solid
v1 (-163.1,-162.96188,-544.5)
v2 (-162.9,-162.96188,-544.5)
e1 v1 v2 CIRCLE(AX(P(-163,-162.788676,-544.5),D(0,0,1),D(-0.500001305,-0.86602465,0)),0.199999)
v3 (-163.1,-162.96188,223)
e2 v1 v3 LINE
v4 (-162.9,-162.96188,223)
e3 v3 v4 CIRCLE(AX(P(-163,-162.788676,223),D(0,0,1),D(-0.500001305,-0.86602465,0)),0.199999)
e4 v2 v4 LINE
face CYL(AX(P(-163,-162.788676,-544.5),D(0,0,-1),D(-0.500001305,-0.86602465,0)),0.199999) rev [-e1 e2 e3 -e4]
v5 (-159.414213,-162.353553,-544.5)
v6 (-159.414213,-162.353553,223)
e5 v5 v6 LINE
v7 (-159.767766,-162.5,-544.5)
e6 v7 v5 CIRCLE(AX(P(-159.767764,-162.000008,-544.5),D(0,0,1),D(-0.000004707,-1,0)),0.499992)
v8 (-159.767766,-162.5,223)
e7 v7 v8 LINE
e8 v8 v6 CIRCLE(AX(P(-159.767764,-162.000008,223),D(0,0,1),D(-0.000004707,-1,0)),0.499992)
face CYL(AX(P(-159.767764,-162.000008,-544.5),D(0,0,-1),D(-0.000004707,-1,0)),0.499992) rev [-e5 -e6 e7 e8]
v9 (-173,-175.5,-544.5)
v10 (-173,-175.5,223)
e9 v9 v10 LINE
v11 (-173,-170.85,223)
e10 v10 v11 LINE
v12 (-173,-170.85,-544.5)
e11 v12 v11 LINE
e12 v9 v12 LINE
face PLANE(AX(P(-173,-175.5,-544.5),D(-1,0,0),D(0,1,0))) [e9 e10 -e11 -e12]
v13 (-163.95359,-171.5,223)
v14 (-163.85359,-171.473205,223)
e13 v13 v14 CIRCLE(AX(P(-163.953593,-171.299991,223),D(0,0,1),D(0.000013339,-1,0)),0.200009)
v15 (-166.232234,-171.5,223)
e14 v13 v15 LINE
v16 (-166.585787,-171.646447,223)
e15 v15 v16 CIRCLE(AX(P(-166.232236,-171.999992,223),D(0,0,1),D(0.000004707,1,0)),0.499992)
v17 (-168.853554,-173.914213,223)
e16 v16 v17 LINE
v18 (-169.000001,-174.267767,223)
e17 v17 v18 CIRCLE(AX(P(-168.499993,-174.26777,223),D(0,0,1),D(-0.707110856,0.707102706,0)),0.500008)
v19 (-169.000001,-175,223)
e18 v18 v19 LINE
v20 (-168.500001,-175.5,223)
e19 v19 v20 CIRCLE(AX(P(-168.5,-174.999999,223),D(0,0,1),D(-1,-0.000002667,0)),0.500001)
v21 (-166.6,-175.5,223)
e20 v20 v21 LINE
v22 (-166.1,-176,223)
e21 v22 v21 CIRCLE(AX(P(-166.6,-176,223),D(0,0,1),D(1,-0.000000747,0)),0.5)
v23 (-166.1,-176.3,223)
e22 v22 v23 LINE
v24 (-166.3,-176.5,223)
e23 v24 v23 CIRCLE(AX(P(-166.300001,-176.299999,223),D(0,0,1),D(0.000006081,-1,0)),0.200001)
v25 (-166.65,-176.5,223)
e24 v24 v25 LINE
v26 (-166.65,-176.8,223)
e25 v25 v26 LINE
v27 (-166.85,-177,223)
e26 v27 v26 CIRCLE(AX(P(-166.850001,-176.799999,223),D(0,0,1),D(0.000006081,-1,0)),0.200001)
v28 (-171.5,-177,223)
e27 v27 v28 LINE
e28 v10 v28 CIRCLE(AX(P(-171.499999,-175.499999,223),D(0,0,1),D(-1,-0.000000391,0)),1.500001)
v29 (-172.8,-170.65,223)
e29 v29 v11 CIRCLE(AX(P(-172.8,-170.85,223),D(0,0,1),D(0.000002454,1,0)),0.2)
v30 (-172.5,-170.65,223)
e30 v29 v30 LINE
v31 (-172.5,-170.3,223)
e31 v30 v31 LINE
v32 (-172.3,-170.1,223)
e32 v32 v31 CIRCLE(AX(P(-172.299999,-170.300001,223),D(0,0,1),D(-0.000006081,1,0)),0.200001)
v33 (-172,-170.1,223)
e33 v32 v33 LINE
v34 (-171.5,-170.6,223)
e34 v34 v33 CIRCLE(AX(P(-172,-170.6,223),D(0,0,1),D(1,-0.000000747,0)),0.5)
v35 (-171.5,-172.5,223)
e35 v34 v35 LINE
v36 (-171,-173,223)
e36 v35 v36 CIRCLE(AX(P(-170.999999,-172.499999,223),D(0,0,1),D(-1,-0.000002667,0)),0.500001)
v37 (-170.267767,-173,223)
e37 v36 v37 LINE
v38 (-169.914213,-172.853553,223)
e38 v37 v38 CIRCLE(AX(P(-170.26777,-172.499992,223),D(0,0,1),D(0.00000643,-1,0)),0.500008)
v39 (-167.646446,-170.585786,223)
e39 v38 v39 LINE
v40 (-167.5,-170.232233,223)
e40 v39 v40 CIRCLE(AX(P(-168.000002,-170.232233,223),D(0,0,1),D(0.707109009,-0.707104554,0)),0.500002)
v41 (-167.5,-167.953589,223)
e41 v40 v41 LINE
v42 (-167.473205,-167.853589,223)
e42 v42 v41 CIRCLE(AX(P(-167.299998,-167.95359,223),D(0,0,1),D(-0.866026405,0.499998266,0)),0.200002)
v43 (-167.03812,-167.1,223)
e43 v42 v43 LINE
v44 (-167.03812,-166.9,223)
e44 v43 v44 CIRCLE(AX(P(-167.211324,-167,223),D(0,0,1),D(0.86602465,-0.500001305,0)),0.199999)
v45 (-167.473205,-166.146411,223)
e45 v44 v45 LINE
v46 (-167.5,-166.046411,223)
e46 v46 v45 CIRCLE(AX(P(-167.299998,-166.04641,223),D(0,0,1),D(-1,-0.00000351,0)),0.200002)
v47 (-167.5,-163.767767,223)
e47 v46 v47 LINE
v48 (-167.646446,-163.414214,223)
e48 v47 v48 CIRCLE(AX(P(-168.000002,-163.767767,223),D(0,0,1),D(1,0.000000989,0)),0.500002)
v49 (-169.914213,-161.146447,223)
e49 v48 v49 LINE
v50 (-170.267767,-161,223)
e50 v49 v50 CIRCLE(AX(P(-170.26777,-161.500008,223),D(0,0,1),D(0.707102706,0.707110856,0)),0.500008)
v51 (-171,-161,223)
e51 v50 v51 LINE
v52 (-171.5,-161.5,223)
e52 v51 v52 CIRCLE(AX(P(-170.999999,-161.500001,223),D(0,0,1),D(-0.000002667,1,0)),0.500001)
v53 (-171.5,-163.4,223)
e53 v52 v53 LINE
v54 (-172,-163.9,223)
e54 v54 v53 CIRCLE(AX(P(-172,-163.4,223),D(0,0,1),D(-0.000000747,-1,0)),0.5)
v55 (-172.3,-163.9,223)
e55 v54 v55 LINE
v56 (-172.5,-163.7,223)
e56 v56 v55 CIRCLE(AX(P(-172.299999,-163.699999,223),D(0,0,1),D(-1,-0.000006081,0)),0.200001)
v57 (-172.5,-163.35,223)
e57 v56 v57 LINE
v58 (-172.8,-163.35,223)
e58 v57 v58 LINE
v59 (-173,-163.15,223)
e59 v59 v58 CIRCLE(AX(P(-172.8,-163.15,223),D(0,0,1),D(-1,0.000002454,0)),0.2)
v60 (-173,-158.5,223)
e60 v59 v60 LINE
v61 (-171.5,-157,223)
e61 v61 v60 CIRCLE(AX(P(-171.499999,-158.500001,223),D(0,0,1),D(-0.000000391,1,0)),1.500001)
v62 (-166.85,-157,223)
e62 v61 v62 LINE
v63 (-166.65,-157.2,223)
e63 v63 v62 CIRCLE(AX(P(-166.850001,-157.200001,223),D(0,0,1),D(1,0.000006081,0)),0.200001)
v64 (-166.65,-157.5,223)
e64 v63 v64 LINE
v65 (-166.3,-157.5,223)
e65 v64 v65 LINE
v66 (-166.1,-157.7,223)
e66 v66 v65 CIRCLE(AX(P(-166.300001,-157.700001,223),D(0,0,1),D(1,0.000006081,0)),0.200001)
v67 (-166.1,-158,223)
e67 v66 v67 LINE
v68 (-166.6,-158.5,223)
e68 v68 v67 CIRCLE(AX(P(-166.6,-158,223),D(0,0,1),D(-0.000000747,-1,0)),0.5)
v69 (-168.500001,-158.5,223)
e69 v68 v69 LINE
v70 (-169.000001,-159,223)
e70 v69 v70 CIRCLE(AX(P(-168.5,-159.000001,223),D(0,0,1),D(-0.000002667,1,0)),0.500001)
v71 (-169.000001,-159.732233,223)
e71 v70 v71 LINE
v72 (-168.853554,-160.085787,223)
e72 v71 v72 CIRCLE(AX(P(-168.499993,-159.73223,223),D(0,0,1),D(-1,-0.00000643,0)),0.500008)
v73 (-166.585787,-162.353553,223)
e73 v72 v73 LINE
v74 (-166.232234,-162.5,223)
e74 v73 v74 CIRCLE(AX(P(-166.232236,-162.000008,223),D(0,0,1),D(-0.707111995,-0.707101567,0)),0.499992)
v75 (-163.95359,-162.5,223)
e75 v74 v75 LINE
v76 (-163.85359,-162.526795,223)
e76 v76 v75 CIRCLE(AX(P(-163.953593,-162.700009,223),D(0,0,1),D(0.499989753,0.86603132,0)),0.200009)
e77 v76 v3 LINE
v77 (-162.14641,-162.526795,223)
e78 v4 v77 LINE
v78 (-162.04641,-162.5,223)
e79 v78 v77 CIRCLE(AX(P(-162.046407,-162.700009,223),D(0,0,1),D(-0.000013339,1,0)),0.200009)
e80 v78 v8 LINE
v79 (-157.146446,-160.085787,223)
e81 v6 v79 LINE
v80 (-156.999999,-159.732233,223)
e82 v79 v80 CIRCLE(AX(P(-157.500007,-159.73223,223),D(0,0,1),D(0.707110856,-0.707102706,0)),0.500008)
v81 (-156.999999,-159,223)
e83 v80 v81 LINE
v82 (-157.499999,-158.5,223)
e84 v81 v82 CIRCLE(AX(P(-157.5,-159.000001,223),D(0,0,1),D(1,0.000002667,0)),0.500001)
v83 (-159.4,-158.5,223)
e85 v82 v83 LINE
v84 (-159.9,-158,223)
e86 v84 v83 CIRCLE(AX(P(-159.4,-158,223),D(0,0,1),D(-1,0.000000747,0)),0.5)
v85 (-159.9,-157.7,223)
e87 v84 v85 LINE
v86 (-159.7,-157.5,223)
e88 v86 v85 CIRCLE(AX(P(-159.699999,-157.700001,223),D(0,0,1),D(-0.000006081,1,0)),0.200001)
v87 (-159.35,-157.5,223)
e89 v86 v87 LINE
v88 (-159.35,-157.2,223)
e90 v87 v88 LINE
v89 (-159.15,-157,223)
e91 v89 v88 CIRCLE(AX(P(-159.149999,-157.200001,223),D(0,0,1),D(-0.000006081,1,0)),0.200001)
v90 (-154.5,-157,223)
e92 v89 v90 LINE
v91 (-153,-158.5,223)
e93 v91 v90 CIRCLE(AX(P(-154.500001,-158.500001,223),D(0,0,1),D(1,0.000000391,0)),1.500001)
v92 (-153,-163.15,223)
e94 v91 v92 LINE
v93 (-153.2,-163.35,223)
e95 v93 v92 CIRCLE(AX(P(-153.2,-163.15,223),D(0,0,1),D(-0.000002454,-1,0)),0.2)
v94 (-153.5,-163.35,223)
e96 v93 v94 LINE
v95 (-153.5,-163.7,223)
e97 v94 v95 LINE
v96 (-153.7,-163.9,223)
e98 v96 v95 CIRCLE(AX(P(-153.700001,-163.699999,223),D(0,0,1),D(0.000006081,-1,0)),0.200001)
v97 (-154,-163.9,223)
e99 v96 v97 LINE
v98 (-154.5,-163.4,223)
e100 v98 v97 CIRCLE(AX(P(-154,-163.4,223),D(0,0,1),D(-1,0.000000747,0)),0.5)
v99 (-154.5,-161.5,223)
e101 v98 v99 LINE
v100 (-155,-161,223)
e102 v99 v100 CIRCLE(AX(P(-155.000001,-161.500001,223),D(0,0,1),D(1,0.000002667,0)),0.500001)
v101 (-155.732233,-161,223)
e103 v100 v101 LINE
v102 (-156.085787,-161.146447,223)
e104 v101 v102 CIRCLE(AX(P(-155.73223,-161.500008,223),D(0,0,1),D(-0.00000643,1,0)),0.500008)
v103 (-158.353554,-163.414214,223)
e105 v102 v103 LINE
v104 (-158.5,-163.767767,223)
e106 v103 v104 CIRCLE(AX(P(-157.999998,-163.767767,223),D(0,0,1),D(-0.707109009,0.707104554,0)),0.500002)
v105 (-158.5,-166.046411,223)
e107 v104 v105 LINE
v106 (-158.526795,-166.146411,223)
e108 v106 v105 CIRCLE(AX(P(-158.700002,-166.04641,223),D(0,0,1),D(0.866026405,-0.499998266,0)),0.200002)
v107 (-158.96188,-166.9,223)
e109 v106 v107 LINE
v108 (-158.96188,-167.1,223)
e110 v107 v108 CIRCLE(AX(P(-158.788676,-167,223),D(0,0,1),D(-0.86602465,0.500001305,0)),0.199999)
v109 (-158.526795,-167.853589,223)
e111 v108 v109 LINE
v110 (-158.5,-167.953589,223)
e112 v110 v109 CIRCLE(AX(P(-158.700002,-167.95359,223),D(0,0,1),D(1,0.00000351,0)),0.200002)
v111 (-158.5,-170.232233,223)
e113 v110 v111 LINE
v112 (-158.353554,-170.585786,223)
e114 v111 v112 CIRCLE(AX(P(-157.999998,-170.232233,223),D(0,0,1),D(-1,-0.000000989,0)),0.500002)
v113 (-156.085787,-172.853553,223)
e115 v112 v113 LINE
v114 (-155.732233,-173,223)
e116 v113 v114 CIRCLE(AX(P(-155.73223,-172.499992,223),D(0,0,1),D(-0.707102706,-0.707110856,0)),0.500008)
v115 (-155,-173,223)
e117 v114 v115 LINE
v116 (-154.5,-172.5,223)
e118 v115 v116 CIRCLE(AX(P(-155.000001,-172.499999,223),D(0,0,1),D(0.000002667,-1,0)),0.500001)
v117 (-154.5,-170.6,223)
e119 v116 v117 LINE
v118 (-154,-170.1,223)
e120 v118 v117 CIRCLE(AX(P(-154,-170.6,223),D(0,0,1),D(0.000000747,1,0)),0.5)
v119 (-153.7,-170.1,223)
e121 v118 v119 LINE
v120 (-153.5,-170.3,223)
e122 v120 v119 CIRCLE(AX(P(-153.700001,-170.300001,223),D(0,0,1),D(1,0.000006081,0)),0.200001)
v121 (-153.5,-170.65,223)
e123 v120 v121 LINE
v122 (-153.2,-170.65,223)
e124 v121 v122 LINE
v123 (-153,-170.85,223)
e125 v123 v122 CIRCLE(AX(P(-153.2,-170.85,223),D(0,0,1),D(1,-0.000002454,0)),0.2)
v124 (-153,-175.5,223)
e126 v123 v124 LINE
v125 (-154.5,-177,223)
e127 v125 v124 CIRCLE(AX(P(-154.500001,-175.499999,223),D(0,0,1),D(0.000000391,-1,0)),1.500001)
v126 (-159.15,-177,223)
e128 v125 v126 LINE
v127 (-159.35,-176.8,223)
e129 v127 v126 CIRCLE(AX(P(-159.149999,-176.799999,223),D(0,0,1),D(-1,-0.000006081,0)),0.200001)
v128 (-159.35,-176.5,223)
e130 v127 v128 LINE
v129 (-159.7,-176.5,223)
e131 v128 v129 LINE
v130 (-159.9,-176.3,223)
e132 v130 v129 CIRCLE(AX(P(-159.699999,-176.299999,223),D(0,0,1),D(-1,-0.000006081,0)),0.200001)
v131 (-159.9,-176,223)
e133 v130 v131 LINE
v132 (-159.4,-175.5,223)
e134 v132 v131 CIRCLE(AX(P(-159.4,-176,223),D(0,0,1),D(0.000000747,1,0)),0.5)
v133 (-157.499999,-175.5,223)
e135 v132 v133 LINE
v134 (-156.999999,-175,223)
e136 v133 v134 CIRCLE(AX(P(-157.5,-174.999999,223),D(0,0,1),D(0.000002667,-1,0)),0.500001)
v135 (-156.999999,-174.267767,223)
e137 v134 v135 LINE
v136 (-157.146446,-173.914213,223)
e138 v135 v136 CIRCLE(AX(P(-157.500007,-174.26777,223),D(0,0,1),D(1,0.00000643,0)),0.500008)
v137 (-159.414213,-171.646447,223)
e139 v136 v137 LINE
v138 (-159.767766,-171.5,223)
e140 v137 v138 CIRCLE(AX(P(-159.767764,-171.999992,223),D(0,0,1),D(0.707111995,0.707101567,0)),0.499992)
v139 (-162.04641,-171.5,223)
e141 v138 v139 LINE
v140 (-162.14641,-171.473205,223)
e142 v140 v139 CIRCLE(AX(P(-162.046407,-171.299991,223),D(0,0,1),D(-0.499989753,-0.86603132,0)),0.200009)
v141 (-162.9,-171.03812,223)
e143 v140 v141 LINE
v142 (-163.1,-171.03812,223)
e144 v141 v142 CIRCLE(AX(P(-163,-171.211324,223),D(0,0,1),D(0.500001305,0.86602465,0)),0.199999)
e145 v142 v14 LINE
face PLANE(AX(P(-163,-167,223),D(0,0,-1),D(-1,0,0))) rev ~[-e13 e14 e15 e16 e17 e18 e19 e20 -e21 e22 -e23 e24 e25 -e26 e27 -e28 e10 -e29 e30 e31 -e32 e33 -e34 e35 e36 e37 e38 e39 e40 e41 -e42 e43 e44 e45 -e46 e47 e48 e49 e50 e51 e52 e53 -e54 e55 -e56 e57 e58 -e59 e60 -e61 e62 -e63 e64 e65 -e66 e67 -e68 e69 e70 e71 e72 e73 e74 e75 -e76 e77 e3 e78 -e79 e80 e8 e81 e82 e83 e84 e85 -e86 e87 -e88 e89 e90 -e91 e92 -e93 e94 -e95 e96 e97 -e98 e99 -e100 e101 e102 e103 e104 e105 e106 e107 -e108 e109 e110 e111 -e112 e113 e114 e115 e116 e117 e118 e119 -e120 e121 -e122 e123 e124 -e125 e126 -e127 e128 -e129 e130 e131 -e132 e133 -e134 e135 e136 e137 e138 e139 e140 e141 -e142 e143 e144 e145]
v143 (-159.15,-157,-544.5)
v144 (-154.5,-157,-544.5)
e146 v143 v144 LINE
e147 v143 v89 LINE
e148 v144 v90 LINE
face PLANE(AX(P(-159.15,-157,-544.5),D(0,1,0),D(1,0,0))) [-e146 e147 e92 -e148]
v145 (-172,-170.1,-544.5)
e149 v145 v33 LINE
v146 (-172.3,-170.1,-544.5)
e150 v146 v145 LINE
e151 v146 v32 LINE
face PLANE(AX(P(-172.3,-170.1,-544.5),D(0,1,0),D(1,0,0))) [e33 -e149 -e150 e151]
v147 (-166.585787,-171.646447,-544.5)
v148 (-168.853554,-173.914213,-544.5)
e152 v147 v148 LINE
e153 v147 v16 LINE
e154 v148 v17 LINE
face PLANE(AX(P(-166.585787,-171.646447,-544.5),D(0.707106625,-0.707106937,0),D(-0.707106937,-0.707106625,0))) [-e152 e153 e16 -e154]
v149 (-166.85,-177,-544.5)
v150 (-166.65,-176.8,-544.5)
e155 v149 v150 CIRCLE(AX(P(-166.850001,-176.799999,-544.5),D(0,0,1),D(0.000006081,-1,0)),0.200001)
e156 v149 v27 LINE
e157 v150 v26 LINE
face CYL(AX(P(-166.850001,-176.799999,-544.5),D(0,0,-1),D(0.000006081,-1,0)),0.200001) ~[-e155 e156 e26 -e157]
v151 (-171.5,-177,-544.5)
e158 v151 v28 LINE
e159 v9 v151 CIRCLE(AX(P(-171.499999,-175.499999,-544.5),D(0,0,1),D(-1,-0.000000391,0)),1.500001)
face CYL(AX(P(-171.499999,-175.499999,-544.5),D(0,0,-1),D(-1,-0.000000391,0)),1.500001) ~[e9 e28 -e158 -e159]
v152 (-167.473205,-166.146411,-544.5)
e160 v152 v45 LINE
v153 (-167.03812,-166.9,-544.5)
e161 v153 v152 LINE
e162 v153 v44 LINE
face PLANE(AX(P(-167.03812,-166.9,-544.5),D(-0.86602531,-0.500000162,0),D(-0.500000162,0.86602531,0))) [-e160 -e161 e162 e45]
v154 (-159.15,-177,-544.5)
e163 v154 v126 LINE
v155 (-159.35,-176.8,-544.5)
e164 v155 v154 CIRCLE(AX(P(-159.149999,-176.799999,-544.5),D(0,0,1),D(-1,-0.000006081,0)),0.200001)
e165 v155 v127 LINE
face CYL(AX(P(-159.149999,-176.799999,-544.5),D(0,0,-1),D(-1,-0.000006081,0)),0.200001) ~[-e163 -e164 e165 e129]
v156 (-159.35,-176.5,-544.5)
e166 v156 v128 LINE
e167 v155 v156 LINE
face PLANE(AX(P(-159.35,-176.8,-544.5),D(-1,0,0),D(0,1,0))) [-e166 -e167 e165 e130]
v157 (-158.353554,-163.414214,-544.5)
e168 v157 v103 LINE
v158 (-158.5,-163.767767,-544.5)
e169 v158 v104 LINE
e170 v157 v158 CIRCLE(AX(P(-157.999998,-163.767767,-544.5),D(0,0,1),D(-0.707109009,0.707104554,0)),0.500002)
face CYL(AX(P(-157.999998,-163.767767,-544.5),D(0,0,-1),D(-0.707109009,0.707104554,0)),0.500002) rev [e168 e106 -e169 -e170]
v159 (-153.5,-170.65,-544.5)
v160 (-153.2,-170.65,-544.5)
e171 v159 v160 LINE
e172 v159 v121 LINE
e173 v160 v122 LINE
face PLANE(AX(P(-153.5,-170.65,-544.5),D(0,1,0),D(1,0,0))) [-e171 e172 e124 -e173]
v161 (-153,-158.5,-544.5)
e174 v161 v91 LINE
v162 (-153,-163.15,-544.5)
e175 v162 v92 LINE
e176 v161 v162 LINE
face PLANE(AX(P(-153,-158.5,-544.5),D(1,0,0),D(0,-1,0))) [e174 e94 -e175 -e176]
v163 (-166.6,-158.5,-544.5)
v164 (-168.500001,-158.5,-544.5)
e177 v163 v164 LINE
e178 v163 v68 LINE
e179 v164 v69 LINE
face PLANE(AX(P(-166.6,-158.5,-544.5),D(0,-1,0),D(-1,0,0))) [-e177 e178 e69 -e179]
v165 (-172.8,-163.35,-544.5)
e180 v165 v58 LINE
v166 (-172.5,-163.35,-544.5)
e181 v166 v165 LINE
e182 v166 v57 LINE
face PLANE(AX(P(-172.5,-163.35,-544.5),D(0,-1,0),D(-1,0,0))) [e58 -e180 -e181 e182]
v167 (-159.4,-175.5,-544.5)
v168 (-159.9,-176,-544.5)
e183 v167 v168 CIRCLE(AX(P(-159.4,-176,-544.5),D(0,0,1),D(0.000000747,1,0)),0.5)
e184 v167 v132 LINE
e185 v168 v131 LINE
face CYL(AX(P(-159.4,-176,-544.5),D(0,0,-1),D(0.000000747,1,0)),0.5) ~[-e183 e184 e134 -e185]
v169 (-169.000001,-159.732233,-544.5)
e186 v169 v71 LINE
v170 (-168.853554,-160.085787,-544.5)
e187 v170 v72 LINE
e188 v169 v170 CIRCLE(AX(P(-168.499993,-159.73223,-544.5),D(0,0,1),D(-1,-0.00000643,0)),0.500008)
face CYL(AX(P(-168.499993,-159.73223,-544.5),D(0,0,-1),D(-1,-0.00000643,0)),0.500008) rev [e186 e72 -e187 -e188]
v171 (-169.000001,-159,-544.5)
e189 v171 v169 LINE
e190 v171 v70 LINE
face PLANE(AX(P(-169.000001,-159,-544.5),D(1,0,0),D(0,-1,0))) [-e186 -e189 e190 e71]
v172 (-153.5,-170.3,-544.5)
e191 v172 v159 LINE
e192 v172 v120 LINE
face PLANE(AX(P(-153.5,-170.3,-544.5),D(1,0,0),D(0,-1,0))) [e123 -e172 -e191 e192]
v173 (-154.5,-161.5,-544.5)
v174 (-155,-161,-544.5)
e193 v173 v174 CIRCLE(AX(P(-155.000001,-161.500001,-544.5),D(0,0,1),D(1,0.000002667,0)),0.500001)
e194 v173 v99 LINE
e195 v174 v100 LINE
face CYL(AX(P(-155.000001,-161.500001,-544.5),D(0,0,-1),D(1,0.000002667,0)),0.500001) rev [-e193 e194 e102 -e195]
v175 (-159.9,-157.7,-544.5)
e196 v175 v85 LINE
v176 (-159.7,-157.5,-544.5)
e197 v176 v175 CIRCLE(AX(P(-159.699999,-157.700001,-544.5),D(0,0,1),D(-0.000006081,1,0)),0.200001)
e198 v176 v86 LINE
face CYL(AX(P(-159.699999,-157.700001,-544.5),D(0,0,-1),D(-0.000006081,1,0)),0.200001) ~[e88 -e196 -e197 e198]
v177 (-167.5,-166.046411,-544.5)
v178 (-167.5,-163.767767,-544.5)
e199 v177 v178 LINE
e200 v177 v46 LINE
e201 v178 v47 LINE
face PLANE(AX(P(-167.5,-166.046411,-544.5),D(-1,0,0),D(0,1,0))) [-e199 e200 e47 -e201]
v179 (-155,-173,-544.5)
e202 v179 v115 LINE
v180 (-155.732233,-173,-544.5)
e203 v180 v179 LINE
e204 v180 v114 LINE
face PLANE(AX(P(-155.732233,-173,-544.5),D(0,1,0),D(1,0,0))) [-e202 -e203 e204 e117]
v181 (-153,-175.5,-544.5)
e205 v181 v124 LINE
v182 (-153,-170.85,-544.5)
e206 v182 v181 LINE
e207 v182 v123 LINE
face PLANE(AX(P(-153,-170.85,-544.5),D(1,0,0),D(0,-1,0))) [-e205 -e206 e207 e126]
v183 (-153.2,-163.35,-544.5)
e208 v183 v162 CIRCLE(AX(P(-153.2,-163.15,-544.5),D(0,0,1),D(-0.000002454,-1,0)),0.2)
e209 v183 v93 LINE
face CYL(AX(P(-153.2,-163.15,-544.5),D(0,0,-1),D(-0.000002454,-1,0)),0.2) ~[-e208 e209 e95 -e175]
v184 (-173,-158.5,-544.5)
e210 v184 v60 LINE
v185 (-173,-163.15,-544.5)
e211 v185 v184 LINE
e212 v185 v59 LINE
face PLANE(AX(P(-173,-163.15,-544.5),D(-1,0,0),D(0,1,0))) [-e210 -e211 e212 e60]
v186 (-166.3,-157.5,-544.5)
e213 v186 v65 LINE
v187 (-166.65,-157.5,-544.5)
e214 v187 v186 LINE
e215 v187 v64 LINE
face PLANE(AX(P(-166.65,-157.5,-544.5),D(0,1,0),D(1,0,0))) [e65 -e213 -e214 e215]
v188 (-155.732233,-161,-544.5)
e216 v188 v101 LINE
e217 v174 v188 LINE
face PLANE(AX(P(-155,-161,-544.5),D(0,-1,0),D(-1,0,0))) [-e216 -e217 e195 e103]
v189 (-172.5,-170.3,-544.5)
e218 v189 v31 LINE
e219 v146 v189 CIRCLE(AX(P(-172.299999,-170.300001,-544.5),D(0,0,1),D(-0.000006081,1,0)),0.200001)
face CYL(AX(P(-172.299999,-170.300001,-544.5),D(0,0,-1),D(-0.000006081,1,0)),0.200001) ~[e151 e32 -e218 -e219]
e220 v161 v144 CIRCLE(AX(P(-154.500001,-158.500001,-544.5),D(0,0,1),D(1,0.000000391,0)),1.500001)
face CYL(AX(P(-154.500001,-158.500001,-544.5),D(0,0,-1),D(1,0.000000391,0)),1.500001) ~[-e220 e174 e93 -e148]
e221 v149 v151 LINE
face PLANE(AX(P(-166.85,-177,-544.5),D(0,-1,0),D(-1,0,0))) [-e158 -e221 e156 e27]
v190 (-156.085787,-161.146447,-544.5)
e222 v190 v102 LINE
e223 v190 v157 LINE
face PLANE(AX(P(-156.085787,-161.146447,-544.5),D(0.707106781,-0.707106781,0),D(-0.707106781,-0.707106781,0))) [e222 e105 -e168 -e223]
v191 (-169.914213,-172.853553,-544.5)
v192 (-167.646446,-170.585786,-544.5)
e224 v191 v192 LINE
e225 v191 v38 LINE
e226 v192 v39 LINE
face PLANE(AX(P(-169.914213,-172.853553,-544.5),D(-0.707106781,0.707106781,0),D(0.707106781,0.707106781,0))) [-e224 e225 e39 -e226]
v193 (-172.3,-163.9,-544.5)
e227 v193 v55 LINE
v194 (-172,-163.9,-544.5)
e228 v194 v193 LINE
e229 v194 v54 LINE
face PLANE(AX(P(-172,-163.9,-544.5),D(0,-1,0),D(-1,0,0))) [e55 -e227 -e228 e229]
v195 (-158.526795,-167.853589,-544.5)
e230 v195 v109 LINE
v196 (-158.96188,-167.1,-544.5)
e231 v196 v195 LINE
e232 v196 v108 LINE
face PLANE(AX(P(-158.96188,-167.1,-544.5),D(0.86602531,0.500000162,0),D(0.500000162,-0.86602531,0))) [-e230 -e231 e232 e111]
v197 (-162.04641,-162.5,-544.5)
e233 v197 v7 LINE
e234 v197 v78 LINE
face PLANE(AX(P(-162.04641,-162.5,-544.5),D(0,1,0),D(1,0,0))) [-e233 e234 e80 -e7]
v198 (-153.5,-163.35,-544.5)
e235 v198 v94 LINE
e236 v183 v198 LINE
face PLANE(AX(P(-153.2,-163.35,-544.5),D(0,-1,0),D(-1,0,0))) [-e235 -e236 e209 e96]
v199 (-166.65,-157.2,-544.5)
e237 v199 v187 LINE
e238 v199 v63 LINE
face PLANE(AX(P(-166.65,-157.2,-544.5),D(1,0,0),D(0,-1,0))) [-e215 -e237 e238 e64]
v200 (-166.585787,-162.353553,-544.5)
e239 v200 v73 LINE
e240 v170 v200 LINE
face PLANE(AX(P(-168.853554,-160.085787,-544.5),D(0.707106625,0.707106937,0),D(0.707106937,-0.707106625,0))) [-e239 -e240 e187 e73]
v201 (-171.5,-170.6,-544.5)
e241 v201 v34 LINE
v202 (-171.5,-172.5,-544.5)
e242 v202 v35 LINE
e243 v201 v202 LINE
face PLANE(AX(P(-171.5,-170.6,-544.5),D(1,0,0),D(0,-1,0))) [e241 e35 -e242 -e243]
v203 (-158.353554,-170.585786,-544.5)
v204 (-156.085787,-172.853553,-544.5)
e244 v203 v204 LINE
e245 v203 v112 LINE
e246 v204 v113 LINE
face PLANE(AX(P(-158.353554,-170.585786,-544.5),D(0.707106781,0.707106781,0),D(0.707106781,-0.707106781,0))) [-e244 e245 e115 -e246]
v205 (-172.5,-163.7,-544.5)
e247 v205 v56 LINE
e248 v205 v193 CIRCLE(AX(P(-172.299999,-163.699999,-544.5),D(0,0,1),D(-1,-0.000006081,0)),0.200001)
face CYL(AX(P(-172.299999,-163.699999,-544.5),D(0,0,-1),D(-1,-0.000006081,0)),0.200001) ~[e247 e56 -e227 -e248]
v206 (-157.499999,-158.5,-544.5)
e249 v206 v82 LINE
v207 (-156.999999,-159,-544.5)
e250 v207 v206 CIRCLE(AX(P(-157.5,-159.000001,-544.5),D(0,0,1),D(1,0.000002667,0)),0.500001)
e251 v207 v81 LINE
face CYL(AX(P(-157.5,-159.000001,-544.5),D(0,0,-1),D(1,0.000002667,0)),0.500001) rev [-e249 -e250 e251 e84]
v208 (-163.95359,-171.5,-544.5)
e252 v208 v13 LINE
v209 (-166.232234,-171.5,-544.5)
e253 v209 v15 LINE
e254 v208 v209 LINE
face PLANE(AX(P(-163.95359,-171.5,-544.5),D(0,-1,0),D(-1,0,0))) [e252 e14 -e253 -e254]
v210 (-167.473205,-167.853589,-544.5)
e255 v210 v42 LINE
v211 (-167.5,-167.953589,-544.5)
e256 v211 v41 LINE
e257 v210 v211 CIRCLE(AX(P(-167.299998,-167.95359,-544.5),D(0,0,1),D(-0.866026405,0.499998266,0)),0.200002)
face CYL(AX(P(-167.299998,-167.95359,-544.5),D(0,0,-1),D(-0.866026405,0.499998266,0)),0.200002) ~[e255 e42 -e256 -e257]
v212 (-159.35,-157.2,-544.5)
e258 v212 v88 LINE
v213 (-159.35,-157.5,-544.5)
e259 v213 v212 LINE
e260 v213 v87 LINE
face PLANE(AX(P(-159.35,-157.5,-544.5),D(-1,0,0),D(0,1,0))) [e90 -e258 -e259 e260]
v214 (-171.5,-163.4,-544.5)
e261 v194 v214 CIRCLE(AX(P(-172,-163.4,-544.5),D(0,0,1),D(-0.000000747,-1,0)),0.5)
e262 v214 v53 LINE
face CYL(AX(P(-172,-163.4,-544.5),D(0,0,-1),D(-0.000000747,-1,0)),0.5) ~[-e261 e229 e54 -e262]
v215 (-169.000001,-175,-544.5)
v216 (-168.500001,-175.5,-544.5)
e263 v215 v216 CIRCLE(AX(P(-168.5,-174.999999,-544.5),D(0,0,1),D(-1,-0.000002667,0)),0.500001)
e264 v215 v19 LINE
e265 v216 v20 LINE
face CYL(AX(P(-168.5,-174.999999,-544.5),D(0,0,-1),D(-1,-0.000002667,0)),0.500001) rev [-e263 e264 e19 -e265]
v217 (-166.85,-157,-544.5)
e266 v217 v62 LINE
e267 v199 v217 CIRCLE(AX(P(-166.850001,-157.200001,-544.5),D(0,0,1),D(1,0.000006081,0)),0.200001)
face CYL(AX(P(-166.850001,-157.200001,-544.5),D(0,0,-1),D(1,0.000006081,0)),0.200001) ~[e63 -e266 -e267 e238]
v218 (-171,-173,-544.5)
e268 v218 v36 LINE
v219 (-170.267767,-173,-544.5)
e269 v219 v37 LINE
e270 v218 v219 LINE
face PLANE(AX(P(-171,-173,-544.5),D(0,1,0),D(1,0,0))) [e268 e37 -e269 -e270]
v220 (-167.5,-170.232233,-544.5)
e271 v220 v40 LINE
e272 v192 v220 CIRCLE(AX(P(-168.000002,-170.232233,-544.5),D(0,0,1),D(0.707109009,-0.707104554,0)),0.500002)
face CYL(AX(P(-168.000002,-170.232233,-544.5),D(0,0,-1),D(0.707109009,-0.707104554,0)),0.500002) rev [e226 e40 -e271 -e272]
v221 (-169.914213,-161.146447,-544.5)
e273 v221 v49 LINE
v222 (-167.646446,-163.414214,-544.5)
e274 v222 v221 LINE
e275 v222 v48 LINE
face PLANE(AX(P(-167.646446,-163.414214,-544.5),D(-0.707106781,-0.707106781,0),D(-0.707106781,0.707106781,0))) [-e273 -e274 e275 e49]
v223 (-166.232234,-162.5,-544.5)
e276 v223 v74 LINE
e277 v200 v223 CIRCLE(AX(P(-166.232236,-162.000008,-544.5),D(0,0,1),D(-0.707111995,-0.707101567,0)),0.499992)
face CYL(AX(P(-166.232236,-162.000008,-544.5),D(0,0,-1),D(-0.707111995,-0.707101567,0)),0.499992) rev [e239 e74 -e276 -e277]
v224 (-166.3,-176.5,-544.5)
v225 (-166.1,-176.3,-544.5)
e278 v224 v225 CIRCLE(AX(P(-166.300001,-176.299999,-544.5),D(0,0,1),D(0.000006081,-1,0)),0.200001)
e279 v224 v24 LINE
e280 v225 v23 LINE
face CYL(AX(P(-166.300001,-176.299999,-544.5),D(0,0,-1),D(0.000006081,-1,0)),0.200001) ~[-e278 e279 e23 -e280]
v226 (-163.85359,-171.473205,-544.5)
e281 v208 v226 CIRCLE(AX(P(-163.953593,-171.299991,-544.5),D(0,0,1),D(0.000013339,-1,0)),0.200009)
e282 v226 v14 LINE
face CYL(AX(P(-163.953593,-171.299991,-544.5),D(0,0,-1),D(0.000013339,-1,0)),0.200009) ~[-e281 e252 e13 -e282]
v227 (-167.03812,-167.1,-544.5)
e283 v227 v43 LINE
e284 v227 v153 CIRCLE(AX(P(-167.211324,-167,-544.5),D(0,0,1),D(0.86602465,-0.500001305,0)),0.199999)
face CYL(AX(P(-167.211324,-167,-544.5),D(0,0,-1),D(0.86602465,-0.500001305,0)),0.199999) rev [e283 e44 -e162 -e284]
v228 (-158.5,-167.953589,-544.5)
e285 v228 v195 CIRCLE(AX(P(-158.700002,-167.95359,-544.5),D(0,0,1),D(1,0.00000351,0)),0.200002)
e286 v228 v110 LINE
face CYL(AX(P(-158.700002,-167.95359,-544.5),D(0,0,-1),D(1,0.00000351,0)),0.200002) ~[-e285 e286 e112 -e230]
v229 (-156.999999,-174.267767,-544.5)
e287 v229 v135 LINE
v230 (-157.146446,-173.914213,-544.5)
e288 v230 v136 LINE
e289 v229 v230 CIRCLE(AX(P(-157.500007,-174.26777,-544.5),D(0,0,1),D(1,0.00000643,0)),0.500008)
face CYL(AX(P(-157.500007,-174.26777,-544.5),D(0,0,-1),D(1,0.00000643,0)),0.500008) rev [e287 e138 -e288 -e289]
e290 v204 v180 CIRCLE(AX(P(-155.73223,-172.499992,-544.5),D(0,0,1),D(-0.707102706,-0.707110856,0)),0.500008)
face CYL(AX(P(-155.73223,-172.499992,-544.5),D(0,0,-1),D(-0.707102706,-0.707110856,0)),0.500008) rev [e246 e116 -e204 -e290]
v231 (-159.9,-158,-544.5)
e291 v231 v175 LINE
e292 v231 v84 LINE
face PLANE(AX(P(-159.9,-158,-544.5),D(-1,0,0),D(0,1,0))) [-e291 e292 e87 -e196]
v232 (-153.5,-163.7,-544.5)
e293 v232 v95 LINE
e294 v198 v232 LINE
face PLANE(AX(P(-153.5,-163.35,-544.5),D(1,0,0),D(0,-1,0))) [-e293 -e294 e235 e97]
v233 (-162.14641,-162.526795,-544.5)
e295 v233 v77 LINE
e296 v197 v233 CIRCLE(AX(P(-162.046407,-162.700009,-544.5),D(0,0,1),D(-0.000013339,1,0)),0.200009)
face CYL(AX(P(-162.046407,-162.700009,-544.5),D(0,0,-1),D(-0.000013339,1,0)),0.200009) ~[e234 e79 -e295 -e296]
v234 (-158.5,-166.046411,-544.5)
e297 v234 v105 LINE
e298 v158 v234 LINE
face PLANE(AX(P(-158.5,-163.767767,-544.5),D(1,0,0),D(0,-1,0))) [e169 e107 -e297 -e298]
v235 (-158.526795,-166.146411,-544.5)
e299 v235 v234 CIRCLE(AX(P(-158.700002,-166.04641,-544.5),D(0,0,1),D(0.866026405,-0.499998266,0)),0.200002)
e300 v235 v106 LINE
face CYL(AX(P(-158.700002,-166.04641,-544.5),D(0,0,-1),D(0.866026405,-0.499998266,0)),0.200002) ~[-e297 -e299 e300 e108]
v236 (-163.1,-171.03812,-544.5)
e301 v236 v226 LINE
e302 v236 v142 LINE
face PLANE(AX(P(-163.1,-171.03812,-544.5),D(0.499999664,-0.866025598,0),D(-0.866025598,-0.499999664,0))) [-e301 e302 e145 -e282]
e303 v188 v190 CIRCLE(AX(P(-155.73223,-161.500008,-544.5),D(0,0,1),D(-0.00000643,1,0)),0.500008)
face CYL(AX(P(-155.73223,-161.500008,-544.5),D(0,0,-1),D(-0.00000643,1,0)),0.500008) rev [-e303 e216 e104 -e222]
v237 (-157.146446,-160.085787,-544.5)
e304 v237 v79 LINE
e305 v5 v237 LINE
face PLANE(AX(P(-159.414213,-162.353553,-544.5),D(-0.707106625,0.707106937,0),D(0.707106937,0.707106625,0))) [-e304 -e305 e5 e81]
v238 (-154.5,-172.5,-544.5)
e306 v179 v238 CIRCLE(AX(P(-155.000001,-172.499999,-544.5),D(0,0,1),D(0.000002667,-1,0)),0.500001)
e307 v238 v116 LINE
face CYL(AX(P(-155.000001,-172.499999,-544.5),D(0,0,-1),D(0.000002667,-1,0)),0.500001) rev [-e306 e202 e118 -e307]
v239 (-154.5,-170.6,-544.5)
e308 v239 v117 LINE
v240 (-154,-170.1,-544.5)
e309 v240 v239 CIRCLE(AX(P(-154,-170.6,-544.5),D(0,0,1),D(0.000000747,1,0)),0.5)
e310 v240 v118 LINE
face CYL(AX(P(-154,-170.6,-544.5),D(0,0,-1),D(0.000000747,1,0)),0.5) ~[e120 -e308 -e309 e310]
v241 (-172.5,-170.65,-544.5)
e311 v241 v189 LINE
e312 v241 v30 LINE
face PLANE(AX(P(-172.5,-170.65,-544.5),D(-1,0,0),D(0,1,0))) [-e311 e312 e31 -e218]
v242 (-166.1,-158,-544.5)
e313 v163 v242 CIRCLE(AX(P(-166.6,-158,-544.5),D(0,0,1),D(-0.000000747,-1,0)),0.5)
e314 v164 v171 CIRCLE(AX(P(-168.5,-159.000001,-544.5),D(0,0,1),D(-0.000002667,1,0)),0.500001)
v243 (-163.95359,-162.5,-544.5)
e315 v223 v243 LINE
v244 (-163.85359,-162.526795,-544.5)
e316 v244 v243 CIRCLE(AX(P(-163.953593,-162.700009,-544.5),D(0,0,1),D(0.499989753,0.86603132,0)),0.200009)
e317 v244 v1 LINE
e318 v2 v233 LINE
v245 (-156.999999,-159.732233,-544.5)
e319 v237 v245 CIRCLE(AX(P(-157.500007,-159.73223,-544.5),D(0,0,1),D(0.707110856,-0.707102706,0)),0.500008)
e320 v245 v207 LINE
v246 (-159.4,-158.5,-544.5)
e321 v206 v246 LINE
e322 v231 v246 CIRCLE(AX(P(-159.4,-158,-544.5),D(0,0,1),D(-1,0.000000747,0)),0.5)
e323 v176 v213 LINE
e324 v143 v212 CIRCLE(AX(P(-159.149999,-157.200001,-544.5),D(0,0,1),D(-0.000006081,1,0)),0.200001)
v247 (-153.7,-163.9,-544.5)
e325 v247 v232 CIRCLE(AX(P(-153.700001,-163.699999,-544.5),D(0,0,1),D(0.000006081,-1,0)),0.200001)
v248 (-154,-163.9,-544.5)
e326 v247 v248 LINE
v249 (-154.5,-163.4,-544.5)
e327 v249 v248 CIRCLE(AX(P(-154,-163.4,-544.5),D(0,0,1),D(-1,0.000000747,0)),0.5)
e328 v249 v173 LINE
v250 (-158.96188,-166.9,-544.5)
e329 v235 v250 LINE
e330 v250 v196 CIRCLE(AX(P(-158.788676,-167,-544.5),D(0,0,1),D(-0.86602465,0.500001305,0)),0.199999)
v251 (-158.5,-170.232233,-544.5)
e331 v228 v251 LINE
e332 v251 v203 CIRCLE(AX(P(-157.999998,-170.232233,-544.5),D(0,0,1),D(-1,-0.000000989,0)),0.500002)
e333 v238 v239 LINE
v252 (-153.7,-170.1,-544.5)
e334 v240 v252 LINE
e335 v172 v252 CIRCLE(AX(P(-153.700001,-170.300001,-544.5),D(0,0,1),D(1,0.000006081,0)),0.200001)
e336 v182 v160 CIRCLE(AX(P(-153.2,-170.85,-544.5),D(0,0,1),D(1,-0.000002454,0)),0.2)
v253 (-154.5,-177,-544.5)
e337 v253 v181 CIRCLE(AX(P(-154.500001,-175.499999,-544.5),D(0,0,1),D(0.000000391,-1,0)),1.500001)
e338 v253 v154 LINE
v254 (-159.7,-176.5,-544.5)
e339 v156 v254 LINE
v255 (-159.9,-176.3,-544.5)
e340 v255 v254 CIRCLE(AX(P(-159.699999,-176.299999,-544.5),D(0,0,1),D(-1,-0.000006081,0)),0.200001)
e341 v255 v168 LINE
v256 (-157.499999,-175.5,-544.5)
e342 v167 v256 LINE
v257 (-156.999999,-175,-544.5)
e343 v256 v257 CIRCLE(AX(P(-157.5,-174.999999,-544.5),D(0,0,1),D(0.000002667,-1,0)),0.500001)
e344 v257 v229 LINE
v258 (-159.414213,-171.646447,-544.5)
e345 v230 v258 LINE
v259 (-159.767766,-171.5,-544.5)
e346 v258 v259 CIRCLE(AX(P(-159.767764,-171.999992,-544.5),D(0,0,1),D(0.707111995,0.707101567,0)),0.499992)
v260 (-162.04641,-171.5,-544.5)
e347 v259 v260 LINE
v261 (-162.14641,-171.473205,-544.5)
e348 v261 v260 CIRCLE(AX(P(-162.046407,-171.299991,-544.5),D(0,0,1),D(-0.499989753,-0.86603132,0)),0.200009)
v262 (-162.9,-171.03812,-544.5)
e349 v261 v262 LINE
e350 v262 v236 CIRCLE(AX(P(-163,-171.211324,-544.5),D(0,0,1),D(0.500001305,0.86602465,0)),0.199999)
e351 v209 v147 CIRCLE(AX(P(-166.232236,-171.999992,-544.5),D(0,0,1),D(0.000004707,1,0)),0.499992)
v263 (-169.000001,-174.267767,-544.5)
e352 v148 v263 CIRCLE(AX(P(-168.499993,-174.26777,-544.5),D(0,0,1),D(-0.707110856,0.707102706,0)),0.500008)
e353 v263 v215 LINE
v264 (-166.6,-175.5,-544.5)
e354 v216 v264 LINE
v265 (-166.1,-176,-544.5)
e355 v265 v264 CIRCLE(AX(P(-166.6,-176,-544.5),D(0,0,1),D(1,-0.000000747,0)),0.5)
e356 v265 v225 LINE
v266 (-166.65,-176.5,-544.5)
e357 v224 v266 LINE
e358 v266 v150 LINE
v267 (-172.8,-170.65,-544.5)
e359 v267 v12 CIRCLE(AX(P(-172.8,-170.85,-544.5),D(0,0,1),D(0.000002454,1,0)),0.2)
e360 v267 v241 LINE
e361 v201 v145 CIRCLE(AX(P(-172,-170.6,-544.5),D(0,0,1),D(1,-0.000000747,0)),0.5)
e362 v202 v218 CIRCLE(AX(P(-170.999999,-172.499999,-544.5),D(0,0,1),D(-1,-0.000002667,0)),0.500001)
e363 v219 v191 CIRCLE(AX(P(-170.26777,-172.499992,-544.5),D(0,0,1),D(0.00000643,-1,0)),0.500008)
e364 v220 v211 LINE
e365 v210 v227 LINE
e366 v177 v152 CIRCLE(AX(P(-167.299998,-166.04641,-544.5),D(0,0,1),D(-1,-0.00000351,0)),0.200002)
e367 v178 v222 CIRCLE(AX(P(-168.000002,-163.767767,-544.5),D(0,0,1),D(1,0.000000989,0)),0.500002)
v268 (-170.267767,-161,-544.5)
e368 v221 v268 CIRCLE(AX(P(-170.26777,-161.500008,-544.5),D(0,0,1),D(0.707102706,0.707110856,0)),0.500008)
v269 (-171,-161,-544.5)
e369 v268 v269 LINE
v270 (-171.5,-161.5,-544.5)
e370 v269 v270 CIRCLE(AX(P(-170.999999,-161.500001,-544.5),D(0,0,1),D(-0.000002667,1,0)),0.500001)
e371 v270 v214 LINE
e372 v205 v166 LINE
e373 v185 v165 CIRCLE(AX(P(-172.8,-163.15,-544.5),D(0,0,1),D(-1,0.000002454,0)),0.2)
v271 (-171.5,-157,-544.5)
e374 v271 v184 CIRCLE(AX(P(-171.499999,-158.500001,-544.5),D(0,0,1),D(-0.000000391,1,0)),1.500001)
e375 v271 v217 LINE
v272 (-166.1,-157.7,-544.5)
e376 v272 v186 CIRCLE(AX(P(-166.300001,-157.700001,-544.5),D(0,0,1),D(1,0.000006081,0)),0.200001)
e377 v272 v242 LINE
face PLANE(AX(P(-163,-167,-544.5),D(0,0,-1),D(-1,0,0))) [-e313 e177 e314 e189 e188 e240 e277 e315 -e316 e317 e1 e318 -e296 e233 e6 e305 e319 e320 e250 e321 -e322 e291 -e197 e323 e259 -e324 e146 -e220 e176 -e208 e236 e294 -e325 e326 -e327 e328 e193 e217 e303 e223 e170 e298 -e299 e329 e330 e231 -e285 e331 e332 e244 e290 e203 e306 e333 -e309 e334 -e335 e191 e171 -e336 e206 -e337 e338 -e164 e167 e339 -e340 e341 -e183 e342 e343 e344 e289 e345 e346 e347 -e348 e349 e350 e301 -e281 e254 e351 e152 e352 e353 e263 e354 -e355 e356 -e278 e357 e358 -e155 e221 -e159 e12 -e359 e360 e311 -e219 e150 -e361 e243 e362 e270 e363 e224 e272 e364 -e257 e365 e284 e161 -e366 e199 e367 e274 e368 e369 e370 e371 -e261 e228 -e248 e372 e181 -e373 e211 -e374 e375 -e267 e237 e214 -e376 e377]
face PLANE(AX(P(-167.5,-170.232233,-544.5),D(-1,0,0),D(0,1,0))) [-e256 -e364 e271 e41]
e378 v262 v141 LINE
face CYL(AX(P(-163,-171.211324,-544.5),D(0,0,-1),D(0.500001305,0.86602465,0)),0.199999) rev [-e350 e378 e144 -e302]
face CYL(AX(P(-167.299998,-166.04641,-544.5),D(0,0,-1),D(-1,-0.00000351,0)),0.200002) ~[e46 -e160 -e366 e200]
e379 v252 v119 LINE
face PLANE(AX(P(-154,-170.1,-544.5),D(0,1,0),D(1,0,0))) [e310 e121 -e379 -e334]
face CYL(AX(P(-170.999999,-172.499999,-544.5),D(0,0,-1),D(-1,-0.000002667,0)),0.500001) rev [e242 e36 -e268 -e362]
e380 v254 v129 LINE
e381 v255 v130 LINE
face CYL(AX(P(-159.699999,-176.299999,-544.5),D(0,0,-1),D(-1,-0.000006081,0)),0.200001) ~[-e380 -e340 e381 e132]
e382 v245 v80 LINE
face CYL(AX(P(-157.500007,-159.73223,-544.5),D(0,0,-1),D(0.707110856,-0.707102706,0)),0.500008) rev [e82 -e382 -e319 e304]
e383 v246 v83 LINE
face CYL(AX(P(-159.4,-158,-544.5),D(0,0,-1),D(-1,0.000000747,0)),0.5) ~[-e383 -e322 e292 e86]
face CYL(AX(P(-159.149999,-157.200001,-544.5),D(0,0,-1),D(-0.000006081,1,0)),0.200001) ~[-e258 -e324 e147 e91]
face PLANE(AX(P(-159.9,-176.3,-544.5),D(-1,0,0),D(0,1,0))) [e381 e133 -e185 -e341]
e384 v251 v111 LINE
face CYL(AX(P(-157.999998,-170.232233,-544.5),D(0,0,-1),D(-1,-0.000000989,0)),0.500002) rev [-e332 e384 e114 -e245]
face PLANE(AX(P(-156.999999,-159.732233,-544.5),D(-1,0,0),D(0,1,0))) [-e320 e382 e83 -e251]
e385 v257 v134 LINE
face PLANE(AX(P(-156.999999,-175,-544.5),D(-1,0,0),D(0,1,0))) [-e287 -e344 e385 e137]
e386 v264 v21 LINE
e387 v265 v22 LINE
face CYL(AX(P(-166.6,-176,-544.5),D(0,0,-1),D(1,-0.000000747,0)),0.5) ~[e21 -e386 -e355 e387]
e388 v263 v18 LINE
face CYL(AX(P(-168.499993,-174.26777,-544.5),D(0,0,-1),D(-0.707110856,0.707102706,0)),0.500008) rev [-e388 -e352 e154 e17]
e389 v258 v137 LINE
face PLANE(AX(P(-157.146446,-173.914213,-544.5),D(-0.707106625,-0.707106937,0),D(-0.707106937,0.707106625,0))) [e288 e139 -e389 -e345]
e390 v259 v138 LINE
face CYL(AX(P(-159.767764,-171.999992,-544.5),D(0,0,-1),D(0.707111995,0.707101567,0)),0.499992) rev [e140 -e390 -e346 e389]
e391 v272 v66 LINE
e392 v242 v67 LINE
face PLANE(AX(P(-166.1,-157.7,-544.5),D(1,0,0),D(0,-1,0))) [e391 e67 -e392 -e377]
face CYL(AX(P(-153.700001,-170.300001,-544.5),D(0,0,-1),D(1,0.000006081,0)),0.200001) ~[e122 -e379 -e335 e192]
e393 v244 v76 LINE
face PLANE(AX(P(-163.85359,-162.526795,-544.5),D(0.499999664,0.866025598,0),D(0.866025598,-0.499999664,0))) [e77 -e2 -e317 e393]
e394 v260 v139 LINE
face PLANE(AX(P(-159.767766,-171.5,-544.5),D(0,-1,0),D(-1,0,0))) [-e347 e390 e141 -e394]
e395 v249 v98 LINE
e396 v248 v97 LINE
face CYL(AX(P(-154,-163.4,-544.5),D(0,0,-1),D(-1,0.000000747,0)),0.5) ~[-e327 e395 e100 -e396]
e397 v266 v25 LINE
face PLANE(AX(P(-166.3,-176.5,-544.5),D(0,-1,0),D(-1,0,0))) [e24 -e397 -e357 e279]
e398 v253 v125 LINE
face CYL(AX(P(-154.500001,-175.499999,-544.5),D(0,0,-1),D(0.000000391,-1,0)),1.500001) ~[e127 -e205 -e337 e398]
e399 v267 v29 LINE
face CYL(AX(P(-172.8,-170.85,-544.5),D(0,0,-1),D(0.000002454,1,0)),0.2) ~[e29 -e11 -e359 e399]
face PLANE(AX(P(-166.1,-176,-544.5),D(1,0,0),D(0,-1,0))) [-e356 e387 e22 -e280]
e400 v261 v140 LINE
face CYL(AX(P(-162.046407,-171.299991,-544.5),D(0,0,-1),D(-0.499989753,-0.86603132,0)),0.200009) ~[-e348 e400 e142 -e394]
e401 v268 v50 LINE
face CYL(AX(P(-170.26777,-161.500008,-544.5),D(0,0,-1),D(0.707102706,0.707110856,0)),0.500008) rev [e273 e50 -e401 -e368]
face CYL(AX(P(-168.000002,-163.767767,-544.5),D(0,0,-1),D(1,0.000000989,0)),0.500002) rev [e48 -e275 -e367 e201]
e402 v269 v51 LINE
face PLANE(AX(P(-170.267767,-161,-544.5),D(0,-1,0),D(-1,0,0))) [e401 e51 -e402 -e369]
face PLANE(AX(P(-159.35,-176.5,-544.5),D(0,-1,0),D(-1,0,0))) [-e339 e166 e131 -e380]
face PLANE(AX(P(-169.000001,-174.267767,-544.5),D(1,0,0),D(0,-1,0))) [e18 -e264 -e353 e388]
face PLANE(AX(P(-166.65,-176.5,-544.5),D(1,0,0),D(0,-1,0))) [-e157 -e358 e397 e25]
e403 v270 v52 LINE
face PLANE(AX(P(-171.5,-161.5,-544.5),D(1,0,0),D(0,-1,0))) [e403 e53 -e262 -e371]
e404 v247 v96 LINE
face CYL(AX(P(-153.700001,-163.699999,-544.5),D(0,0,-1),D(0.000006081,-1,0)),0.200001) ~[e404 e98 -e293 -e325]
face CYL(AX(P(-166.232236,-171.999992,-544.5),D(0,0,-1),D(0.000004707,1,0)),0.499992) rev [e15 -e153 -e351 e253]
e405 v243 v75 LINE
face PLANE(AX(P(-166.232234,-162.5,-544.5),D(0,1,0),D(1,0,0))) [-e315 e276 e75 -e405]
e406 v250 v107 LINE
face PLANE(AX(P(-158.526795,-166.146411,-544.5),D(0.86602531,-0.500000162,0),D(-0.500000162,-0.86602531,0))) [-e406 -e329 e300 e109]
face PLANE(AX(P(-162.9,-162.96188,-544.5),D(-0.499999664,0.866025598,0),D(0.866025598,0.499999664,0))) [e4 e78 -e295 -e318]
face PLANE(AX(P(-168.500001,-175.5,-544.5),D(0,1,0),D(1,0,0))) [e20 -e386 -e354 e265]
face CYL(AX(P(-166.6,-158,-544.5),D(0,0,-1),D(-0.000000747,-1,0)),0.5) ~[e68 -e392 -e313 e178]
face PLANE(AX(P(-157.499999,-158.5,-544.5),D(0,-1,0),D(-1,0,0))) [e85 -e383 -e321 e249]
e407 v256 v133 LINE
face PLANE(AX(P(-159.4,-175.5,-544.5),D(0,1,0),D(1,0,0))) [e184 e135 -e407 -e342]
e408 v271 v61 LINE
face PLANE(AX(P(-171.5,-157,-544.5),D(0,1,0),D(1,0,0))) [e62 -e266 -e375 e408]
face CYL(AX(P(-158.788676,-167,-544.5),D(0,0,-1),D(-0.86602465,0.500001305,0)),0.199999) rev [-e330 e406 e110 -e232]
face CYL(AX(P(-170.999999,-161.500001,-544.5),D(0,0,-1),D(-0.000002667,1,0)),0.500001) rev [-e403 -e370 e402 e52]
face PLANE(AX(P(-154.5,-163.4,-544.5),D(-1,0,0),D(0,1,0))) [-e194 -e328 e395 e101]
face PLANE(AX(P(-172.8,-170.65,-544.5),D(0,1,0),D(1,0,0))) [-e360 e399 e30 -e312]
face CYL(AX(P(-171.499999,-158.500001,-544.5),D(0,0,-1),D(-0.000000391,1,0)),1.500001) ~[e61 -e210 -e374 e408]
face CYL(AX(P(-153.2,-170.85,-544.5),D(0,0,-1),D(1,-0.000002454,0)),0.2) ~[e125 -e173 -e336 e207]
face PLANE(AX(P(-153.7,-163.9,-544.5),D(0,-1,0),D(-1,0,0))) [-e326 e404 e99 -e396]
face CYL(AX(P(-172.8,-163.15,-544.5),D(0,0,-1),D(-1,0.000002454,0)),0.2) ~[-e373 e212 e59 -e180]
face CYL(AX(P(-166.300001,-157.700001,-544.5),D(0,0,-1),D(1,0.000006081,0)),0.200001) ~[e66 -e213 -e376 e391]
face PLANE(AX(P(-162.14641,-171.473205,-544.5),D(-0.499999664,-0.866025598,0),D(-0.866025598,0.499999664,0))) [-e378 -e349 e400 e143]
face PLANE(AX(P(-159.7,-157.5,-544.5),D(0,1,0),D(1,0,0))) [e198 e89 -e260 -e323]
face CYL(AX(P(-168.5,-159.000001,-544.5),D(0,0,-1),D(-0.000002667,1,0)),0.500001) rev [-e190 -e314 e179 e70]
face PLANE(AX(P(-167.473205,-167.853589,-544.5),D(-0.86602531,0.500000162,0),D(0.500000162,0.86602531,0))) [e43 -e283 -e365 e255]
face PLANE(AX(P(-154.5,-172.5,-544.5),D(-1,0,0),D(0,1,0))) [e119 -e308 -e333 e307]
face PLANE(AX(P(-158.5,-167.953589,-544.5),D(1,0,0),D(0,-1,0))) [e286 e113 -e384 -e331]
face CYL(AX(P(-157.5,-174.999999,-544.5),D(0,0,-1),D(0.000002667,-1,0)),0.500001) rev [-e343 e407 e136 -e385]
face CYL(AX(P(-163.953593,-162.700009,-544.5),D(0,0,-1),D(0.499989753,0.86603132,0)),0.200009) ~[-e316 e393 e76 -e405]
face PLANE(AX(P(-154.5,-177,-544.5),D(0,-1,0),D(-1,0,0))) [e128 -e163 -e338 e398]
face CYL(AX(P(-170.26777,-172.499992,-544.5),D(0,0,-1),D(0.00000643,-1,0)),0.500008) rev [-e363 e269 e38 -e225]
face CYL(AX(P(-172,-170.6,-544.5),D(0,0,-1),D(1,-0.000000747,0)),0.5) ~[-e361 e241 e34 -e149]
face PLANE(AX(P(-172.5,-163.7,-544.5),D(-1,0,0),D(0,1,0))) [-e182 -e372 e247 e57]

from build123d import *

# Parameters (mm, degrees)
PAD011_DEPTH    = 767.5
POCKET028_DEPTH = 767.501


with BuildPart() as pad011:
    # Sketch040 → Pad011 (new body)
    with BuildSketch(Plane(origin=(1.5, 0, 0), x_dir=(1, 0, 0), z_dir=(0, 0, 1))):
        with BuildLine():
            Line((0, 20), (4.65, 20))
            ThreePointArc((4.85, 19.8), (4.791421, 19.941421), (4.65, 20))
            Line((4.85, 19.8), (4.85, 19.5))
            Line((4.85, 19.5), (5.2, 19.5))
            ThreePointArc((5.4, 19.3), (5.341421, 19.441421), (5.2, 19.5))
            Line((5.4, 19.3), (5.4, 19))
            ThreePointArc((4.9, 18.5), (5.253553, 18.646446), (5.4, 19))
            Line((4.9, 18.5), (2.999999, 18.5))
            ThreePointArc((2.999999, 18.5), (2.646446, 18.353553), (2.499999, 18))
            Line((2.499999, 18), (2.499999, 17.267767))
            ThreePointArc((2.499999, 17.267767), (2.53806, 17.076425), (2.646446, 16.914213))
            Line((2.646446, 16.914213), (4.914213, 14.646447))
            ThreePointArc((4.914213, 14.646447), (5.076424, 14.53806), (5.267766, 14.5))
            Line((5.267766, 14.5), (7.54641, 14.5))
            ThreePointArc((7.64641, 14.473205), (7.598173, 14.493185), (7.54641, 14.5))
            Line((7.64641, 14.473205), (8.4, 14.03812))
            ThreePointArc((8.4, 14.03812), (8.5, 14.011325), (8.6, 14.03812))
            Line((8.6, 14.03812), (9.35359, 14.473205))
            ThreePointArc((9.45359, 14.5), (9.401827, 14.493185), (9.35359, 14.473205))
            Line((9.45359, 14.5), (11.732234, 14.5))
            ThreePointArc((11.732234, 14.5), (11.923576, 14.53806), (12.085787, 14.646447))
            Line((12.085787, 14.646447), (14.353554, 16.914213))
            ThreePointArc((14.353554, 16.914213), (14.46194, 17.076425), (14.500001, 17.267767))
            Line((14.500001, 17.267767), (14.500001, 18))
            ThreePointArc((14.500001, 18), (14.353554, 18.353553), (14.000001, 18.5))
            Line((14.000001, 18.5), (12.1, 18.5))
            ThreePointArc((11.6, 19), (11.746447, 18.646446), (12.1, 18.5))
            Line((11.6, 19), (11.6, 19.3))
            ThreePointArc((11.8, 19.5), (11.658579, 19.441421), (11.6, 19.3))
            Line((11.8, 19.5), (12.15, 19.5))
            Line((12.15, 19.5), (12.15, 19.8))
            ThreePointArc((12.35, 20), (12.208579, 19.941421), (12.15, 19.8))
            Line((12.35, 20), (17, 20))
            ThreePointArc((18.5, 18.5), (18.06066, 19.56066), (17, 20))
            Line((18.5, 18.5), (18.5, 13.85))
            ThreePointArc((18.3, 13.65), (18.441421, 13.708578), (18.5, 13.85))
            Line((18.3, 13.65), (18, 13.65))
            Line((18, 13.65), (18, 13.3))
            ThreePointArc((17.8, 13.1), (17.941421, 13.158579), (18, 13.3))
            Line((17.8, 13.1), (17.5, 13.1))
            ThreePointArc((17, 13.6), (17.146446, 13.246447), (17.5, 13.1))
            Line((17, 13.6), (17, 15.5))
            ThreePointArc((17, 15.5), (16.853553, 15.853553), (16.5, 16))
            Line((16.5, 16), (15.767767, 16))
            ThreePointArc((15.767767, 16), (15.576425, 15.961939), (15.414213, 15.853553))
            Line((15.414213, 15.853553), (13.146446, 13.585786))
            ThreePointArc((13.146446, 13.585786), (13.03806, 13.423574), (13, 13.232233))
            Line((13, 13.232233), (13, 10.953589))
            ThreePointArc((12.973205, 10.853589), (12.993185, 10.901825), (13, 10.953589))
            Line((12.973205, 10.853589), (12.53812, 10.1))
            ThreePointArc((12.53812, 10.1), (12.511325, 10), (12.53812, 9.9))
            Line((12.53812, 9.9), (12.973205, 9.146411))
            ThreePointArc((13, 9.046411), (12.993185, 9.098175), (12.973205, 9.146411))
            Line((13, 9.046411), (13, 6.767767))
            ThreePointArc((13, 6.767767), (13.03806, 6.576426), (13.146446, 6.414214))
            Line((13.146446, 6.414214), (15.414213, 4.146447))
            ThreePointArc((15.414213, 4.146447), (15.576425, 4.038061), (15.767767, 4))
            Line((15.767767, 4), (16.5, 4))
            ThreePointArc((16.5, 4), (16.853553, 4.146447), (17, 4.5))
            Line((17, 4.5), (17, 6.4))
            ThreePointArc((17.5, 6.9), (17.146446, 6.753553), (17, 6.4))
            Line((17.5, 6.9), (17.8, 6.9))
            ThreePointArc((18, 6.7), (17.941421, 6.841421), (17.8, 6.9))
            Line((18, 6.7), (18, 6.35))
            Line((18, 6.35), (18.3, 6.35))
            ThreePointArc((18.5, 6.15), (18.441421, 6.291422), (18.3, 6.35))
            Line((18.5, 6.15), (18.5, 1.5))
            ThreePointArc((17, 0), (18.06066, 0.43934), (18.5, 1.5))
            Line((17, 0), (12.35, 0))
            ThreePointArc((12.15, 0.2), (12.208579, 0.058579), (12.35, 0))
            Line((12.15, 0.2), (12.15, 0.5))
            Line((12.15, 0.5), (11.8, 0.5))
            ThreePointArc((11.6, 0.7), (11.658579, 0.558579), (11.8, 0.5))
            Line((11.6, 0.7), (11.6, 1))
            ThreePointArc((12.1, 1.5), (11.746447, 1.353554), (11.6, 1))
            Line((12.1, 1.5), (14.000001, 1.5))
            ThreePointArc((14.000001, 1.5), (14.353554, 1.646447), (14.500001, 2))
            Line((14.500001, 2), (14.500001, 2.732233))
            ThreePointArc((14.500001, 2.732233), (14.46194, 2.923575), (14.353554, 3.085787))
            Line((14.353554, 3.085787), (12.085787, 5.353553))
            ThreePointArc((12.085787, 5.353553), (11.923576, 5.46194), (11.732234, 5.5))
            Line((11.732234, 5.5), (9.45359, 5.5))
            ThreePointArc((9.35359, 5.526795), (9.401827, 5.506815), (9.45359, 5.5))
            Line((9.35359, 5.526795), (8.6, 5.96188))
            ThreePointArc((8.6, 5.96188), (8.5, 5.988675), (8.4, 5.96188))
            Line((8.4, 5.96188), (7.64641, 5.526795))
            ThreePointArc((7.54641, 5.5), (7.598173, 5.506815), (7.64641, 5.526795))
            Line((7.54641, 5.5), (5.267766, 5.5))
            ThreePointArc((5.267766, 5.5), (5.076424, 5.46194), (4.914213, 5.353553))
            Line((4.914213, 5.353553), (2.646446, 3.085787))
            ThreePointArc((2.646446, 3.085787), (2.53806, 2.923575), (2.499999, 2.732233))
            Line((2.499999, 2.732233), (2.499999, 2))
            ThreePointArc((2.499999, 2), (2.646446, 1.646447), (2.999999, 1.5))
            Line((2.999999, 1.5), (4.9, 1.5))
            ThreePointArc((5.4, 1), (5.253553, 1.353554), (4.9, 1.5))
            Line((5.4, 1), (5.4, 0.7))
            ThreePointArc((5.2, 0.5), (5.341421, 0.558579), (5.4, 0.7))
            Line((5.2, 0.5), (4.85, 0.5))
            Line((4.85, 0.5), (4.85, 0.2))
            ThreePointArc((4.65, 0), (4.791421, 0.058579), (4.85, 0.2))
            Line((4.65, 0), (0, 0))
            ThreePointArc((-1.5, 1.5), (-1.06066, 0.43934), (0, 0))
            Line((-1.5, 1.5), (-1.5, 6.15))
            ThreePointArc((-1.3, 6.35), (-1.441421, 6.291422), (-1.5, 6.15))
            Line((-1.3, 6.35), (-1, 6.35))
            Line((-1, 6.35), (-1, 6.7))
            ThreePointArc((-0.8, 6.9), (-0.941421, 6.841421), (-1, 6.7))
            Line((-0.8, 6.9), (-0.5, 6.9))
            ThreePointArc((0, 6.4), (-0.146446, 6.753553), (-0.5, 6.9))
            Line((0, 6.4), (0, 4.5))
            ThreePointArc((0, 4.5), (0.146447, 4.146447), (0.5, 4))
            Line((0.5, 4), (1.232233, 4))
            ThreePointArc((1.232233, 4), (1.423575, 4.038061), (1.585787, 4.146447))
            Line((1.585787, 4.146447), (3.853554, 6.414214))
            ThreePointArc((3.853554, 6.414214), (3.96194, 6.576426), (4, 6.767767))
            Line((4, 6.767767), (4, 9.046411))
            ThreePointArc((4.026795, 9.146411), (4.006815, 9.098175), (4, 9.046411))
            Line((4.026795, 9.146411), (4.46188, 9.9))
            ThreePointArc((4.46188, 9.9), (4.488675, 10), (4.46188, 10.1))
            Line((4.46188, 10.1), (4.026795, 10.853589))
            ThreePointArc((4, 10.953589), (4.006815, 10.901825), (4.026795, 10.853589))
            Line((4, 10.953589), (4, 13.232233))
            ThreePointArc((4, 13.232233), (3.96194, 13.423574), (3.853554, 13.585786))
            Line((3.853554, 13.585786), (1.585787, 15.853553))
            ThreePointArc((1.585787, 15.853553), (1.423575, 15.961939), (1.232233, 16))
            Line((1.232233, 16), (0.5, 16))
            ThreePointArc((0.5, 16), (0.146447, 15.853553), (0, 15.5))
            Line((0, 15.5), (0, 13.6))
            ThreePointArc((-0.5, 13.1), (-0.146446, 13.246447), (0, 13.6))
            Line((-0.5, 13.1), (-0.8, 13.1))
            ThreePointArc((-1, 13.3), (-0.941421, 13.158579), (-0.8, 13.1))
            Line((-1, 13.3), (-1, 13.65))
            Line((-1, 13.65), (-1.3, 13.65))
            ThreePointArc((-1.5, 13.85), (-1.441421, 13.708578), (-1.3, 13.65))
            Line((-1.5, 13.85), (-1.5, 18.5))
            ThreePointArc((0, 20), (-1.06066, 19.56066), (-1.5, 18.5))
        make_face()
    extrude(amount=PAD011_DEPTH)


with BuildPart() as pocket028:
    # Pocket028 base: copy of Pad011
    add(pad011.part)

    # Sketch041 → Pocket028 (cut, through all)
    with BuildSketch(Plane(origin=(1.5, 0, 767.5), x_dir=(1, 0, 0), z_dir=(0, 0, 1))):
        with BuildLine():
            ThreePointArc((6.586105, 12.989641), (5.988263, 12.50841), (5.507825, 11.909931))
            Line((6.054705, 11.258185), (5.507825, 11.909931))
            ThreePointArc((6.054705, 11.258185), (5.75, 10), (6.054705, 8.741815))
            Line((5.507825, 8.090069), (6.054705, 8.741815))
            ThreePointArc((5.507825, 8.090069), (5.988263, 7.49159), (6.586105, 7.010359))
            Line((7.241815, 7.554705), (6.586105, 7.010359))
            ThreePointArc((7.241815, 7.554705), (8.5, 7.25), (9.758185, 7.554705))
            Line((10.413895, 7.010359), (9.758185, 7.554705))
            ThreePointArc((10.413895, 7.010359), (11.011737, 7.49159), (11.492175, 8.090069))
            Line((10.945295, 8.741815), (11.492175, 8.090069))
            ThreePointArc((10.945295, 8.741815), (11.25, 10), (10.945295, 11.258185))
            Line((11.492175, 11.909931), (10.945295, 11.258185))
            ThreePointArc((11.492175, 11.909931), (11.011737, 12.50841), (10.413895, 12.989641))
            Line((9.758185, 12.445295), (10.413895, 12.989641))
            ThreePointArc((9.758185, 12.445295), (8.5, 12.75), (7.241815, 12.445295))
            Line((6.586105, 12.989641), (7.241815, 12.445295))
        make_face()
    extrude(amount=-POCKET028_DEPTH, mode=Mode.SUBTRACT)


with BuildPart() as fusion028:
    # Fusion028 base: copy of Pad011
    add(pad011.part)

    # Fusion028: union Pocket028
    add(pocket028.part)


with BuildPart() as fusion028_1:
    # Fusion028 placement: moved
    add(fusion028.part.moved(Location((-173, -177, -544.5))))


solid = fusion028_1.part
